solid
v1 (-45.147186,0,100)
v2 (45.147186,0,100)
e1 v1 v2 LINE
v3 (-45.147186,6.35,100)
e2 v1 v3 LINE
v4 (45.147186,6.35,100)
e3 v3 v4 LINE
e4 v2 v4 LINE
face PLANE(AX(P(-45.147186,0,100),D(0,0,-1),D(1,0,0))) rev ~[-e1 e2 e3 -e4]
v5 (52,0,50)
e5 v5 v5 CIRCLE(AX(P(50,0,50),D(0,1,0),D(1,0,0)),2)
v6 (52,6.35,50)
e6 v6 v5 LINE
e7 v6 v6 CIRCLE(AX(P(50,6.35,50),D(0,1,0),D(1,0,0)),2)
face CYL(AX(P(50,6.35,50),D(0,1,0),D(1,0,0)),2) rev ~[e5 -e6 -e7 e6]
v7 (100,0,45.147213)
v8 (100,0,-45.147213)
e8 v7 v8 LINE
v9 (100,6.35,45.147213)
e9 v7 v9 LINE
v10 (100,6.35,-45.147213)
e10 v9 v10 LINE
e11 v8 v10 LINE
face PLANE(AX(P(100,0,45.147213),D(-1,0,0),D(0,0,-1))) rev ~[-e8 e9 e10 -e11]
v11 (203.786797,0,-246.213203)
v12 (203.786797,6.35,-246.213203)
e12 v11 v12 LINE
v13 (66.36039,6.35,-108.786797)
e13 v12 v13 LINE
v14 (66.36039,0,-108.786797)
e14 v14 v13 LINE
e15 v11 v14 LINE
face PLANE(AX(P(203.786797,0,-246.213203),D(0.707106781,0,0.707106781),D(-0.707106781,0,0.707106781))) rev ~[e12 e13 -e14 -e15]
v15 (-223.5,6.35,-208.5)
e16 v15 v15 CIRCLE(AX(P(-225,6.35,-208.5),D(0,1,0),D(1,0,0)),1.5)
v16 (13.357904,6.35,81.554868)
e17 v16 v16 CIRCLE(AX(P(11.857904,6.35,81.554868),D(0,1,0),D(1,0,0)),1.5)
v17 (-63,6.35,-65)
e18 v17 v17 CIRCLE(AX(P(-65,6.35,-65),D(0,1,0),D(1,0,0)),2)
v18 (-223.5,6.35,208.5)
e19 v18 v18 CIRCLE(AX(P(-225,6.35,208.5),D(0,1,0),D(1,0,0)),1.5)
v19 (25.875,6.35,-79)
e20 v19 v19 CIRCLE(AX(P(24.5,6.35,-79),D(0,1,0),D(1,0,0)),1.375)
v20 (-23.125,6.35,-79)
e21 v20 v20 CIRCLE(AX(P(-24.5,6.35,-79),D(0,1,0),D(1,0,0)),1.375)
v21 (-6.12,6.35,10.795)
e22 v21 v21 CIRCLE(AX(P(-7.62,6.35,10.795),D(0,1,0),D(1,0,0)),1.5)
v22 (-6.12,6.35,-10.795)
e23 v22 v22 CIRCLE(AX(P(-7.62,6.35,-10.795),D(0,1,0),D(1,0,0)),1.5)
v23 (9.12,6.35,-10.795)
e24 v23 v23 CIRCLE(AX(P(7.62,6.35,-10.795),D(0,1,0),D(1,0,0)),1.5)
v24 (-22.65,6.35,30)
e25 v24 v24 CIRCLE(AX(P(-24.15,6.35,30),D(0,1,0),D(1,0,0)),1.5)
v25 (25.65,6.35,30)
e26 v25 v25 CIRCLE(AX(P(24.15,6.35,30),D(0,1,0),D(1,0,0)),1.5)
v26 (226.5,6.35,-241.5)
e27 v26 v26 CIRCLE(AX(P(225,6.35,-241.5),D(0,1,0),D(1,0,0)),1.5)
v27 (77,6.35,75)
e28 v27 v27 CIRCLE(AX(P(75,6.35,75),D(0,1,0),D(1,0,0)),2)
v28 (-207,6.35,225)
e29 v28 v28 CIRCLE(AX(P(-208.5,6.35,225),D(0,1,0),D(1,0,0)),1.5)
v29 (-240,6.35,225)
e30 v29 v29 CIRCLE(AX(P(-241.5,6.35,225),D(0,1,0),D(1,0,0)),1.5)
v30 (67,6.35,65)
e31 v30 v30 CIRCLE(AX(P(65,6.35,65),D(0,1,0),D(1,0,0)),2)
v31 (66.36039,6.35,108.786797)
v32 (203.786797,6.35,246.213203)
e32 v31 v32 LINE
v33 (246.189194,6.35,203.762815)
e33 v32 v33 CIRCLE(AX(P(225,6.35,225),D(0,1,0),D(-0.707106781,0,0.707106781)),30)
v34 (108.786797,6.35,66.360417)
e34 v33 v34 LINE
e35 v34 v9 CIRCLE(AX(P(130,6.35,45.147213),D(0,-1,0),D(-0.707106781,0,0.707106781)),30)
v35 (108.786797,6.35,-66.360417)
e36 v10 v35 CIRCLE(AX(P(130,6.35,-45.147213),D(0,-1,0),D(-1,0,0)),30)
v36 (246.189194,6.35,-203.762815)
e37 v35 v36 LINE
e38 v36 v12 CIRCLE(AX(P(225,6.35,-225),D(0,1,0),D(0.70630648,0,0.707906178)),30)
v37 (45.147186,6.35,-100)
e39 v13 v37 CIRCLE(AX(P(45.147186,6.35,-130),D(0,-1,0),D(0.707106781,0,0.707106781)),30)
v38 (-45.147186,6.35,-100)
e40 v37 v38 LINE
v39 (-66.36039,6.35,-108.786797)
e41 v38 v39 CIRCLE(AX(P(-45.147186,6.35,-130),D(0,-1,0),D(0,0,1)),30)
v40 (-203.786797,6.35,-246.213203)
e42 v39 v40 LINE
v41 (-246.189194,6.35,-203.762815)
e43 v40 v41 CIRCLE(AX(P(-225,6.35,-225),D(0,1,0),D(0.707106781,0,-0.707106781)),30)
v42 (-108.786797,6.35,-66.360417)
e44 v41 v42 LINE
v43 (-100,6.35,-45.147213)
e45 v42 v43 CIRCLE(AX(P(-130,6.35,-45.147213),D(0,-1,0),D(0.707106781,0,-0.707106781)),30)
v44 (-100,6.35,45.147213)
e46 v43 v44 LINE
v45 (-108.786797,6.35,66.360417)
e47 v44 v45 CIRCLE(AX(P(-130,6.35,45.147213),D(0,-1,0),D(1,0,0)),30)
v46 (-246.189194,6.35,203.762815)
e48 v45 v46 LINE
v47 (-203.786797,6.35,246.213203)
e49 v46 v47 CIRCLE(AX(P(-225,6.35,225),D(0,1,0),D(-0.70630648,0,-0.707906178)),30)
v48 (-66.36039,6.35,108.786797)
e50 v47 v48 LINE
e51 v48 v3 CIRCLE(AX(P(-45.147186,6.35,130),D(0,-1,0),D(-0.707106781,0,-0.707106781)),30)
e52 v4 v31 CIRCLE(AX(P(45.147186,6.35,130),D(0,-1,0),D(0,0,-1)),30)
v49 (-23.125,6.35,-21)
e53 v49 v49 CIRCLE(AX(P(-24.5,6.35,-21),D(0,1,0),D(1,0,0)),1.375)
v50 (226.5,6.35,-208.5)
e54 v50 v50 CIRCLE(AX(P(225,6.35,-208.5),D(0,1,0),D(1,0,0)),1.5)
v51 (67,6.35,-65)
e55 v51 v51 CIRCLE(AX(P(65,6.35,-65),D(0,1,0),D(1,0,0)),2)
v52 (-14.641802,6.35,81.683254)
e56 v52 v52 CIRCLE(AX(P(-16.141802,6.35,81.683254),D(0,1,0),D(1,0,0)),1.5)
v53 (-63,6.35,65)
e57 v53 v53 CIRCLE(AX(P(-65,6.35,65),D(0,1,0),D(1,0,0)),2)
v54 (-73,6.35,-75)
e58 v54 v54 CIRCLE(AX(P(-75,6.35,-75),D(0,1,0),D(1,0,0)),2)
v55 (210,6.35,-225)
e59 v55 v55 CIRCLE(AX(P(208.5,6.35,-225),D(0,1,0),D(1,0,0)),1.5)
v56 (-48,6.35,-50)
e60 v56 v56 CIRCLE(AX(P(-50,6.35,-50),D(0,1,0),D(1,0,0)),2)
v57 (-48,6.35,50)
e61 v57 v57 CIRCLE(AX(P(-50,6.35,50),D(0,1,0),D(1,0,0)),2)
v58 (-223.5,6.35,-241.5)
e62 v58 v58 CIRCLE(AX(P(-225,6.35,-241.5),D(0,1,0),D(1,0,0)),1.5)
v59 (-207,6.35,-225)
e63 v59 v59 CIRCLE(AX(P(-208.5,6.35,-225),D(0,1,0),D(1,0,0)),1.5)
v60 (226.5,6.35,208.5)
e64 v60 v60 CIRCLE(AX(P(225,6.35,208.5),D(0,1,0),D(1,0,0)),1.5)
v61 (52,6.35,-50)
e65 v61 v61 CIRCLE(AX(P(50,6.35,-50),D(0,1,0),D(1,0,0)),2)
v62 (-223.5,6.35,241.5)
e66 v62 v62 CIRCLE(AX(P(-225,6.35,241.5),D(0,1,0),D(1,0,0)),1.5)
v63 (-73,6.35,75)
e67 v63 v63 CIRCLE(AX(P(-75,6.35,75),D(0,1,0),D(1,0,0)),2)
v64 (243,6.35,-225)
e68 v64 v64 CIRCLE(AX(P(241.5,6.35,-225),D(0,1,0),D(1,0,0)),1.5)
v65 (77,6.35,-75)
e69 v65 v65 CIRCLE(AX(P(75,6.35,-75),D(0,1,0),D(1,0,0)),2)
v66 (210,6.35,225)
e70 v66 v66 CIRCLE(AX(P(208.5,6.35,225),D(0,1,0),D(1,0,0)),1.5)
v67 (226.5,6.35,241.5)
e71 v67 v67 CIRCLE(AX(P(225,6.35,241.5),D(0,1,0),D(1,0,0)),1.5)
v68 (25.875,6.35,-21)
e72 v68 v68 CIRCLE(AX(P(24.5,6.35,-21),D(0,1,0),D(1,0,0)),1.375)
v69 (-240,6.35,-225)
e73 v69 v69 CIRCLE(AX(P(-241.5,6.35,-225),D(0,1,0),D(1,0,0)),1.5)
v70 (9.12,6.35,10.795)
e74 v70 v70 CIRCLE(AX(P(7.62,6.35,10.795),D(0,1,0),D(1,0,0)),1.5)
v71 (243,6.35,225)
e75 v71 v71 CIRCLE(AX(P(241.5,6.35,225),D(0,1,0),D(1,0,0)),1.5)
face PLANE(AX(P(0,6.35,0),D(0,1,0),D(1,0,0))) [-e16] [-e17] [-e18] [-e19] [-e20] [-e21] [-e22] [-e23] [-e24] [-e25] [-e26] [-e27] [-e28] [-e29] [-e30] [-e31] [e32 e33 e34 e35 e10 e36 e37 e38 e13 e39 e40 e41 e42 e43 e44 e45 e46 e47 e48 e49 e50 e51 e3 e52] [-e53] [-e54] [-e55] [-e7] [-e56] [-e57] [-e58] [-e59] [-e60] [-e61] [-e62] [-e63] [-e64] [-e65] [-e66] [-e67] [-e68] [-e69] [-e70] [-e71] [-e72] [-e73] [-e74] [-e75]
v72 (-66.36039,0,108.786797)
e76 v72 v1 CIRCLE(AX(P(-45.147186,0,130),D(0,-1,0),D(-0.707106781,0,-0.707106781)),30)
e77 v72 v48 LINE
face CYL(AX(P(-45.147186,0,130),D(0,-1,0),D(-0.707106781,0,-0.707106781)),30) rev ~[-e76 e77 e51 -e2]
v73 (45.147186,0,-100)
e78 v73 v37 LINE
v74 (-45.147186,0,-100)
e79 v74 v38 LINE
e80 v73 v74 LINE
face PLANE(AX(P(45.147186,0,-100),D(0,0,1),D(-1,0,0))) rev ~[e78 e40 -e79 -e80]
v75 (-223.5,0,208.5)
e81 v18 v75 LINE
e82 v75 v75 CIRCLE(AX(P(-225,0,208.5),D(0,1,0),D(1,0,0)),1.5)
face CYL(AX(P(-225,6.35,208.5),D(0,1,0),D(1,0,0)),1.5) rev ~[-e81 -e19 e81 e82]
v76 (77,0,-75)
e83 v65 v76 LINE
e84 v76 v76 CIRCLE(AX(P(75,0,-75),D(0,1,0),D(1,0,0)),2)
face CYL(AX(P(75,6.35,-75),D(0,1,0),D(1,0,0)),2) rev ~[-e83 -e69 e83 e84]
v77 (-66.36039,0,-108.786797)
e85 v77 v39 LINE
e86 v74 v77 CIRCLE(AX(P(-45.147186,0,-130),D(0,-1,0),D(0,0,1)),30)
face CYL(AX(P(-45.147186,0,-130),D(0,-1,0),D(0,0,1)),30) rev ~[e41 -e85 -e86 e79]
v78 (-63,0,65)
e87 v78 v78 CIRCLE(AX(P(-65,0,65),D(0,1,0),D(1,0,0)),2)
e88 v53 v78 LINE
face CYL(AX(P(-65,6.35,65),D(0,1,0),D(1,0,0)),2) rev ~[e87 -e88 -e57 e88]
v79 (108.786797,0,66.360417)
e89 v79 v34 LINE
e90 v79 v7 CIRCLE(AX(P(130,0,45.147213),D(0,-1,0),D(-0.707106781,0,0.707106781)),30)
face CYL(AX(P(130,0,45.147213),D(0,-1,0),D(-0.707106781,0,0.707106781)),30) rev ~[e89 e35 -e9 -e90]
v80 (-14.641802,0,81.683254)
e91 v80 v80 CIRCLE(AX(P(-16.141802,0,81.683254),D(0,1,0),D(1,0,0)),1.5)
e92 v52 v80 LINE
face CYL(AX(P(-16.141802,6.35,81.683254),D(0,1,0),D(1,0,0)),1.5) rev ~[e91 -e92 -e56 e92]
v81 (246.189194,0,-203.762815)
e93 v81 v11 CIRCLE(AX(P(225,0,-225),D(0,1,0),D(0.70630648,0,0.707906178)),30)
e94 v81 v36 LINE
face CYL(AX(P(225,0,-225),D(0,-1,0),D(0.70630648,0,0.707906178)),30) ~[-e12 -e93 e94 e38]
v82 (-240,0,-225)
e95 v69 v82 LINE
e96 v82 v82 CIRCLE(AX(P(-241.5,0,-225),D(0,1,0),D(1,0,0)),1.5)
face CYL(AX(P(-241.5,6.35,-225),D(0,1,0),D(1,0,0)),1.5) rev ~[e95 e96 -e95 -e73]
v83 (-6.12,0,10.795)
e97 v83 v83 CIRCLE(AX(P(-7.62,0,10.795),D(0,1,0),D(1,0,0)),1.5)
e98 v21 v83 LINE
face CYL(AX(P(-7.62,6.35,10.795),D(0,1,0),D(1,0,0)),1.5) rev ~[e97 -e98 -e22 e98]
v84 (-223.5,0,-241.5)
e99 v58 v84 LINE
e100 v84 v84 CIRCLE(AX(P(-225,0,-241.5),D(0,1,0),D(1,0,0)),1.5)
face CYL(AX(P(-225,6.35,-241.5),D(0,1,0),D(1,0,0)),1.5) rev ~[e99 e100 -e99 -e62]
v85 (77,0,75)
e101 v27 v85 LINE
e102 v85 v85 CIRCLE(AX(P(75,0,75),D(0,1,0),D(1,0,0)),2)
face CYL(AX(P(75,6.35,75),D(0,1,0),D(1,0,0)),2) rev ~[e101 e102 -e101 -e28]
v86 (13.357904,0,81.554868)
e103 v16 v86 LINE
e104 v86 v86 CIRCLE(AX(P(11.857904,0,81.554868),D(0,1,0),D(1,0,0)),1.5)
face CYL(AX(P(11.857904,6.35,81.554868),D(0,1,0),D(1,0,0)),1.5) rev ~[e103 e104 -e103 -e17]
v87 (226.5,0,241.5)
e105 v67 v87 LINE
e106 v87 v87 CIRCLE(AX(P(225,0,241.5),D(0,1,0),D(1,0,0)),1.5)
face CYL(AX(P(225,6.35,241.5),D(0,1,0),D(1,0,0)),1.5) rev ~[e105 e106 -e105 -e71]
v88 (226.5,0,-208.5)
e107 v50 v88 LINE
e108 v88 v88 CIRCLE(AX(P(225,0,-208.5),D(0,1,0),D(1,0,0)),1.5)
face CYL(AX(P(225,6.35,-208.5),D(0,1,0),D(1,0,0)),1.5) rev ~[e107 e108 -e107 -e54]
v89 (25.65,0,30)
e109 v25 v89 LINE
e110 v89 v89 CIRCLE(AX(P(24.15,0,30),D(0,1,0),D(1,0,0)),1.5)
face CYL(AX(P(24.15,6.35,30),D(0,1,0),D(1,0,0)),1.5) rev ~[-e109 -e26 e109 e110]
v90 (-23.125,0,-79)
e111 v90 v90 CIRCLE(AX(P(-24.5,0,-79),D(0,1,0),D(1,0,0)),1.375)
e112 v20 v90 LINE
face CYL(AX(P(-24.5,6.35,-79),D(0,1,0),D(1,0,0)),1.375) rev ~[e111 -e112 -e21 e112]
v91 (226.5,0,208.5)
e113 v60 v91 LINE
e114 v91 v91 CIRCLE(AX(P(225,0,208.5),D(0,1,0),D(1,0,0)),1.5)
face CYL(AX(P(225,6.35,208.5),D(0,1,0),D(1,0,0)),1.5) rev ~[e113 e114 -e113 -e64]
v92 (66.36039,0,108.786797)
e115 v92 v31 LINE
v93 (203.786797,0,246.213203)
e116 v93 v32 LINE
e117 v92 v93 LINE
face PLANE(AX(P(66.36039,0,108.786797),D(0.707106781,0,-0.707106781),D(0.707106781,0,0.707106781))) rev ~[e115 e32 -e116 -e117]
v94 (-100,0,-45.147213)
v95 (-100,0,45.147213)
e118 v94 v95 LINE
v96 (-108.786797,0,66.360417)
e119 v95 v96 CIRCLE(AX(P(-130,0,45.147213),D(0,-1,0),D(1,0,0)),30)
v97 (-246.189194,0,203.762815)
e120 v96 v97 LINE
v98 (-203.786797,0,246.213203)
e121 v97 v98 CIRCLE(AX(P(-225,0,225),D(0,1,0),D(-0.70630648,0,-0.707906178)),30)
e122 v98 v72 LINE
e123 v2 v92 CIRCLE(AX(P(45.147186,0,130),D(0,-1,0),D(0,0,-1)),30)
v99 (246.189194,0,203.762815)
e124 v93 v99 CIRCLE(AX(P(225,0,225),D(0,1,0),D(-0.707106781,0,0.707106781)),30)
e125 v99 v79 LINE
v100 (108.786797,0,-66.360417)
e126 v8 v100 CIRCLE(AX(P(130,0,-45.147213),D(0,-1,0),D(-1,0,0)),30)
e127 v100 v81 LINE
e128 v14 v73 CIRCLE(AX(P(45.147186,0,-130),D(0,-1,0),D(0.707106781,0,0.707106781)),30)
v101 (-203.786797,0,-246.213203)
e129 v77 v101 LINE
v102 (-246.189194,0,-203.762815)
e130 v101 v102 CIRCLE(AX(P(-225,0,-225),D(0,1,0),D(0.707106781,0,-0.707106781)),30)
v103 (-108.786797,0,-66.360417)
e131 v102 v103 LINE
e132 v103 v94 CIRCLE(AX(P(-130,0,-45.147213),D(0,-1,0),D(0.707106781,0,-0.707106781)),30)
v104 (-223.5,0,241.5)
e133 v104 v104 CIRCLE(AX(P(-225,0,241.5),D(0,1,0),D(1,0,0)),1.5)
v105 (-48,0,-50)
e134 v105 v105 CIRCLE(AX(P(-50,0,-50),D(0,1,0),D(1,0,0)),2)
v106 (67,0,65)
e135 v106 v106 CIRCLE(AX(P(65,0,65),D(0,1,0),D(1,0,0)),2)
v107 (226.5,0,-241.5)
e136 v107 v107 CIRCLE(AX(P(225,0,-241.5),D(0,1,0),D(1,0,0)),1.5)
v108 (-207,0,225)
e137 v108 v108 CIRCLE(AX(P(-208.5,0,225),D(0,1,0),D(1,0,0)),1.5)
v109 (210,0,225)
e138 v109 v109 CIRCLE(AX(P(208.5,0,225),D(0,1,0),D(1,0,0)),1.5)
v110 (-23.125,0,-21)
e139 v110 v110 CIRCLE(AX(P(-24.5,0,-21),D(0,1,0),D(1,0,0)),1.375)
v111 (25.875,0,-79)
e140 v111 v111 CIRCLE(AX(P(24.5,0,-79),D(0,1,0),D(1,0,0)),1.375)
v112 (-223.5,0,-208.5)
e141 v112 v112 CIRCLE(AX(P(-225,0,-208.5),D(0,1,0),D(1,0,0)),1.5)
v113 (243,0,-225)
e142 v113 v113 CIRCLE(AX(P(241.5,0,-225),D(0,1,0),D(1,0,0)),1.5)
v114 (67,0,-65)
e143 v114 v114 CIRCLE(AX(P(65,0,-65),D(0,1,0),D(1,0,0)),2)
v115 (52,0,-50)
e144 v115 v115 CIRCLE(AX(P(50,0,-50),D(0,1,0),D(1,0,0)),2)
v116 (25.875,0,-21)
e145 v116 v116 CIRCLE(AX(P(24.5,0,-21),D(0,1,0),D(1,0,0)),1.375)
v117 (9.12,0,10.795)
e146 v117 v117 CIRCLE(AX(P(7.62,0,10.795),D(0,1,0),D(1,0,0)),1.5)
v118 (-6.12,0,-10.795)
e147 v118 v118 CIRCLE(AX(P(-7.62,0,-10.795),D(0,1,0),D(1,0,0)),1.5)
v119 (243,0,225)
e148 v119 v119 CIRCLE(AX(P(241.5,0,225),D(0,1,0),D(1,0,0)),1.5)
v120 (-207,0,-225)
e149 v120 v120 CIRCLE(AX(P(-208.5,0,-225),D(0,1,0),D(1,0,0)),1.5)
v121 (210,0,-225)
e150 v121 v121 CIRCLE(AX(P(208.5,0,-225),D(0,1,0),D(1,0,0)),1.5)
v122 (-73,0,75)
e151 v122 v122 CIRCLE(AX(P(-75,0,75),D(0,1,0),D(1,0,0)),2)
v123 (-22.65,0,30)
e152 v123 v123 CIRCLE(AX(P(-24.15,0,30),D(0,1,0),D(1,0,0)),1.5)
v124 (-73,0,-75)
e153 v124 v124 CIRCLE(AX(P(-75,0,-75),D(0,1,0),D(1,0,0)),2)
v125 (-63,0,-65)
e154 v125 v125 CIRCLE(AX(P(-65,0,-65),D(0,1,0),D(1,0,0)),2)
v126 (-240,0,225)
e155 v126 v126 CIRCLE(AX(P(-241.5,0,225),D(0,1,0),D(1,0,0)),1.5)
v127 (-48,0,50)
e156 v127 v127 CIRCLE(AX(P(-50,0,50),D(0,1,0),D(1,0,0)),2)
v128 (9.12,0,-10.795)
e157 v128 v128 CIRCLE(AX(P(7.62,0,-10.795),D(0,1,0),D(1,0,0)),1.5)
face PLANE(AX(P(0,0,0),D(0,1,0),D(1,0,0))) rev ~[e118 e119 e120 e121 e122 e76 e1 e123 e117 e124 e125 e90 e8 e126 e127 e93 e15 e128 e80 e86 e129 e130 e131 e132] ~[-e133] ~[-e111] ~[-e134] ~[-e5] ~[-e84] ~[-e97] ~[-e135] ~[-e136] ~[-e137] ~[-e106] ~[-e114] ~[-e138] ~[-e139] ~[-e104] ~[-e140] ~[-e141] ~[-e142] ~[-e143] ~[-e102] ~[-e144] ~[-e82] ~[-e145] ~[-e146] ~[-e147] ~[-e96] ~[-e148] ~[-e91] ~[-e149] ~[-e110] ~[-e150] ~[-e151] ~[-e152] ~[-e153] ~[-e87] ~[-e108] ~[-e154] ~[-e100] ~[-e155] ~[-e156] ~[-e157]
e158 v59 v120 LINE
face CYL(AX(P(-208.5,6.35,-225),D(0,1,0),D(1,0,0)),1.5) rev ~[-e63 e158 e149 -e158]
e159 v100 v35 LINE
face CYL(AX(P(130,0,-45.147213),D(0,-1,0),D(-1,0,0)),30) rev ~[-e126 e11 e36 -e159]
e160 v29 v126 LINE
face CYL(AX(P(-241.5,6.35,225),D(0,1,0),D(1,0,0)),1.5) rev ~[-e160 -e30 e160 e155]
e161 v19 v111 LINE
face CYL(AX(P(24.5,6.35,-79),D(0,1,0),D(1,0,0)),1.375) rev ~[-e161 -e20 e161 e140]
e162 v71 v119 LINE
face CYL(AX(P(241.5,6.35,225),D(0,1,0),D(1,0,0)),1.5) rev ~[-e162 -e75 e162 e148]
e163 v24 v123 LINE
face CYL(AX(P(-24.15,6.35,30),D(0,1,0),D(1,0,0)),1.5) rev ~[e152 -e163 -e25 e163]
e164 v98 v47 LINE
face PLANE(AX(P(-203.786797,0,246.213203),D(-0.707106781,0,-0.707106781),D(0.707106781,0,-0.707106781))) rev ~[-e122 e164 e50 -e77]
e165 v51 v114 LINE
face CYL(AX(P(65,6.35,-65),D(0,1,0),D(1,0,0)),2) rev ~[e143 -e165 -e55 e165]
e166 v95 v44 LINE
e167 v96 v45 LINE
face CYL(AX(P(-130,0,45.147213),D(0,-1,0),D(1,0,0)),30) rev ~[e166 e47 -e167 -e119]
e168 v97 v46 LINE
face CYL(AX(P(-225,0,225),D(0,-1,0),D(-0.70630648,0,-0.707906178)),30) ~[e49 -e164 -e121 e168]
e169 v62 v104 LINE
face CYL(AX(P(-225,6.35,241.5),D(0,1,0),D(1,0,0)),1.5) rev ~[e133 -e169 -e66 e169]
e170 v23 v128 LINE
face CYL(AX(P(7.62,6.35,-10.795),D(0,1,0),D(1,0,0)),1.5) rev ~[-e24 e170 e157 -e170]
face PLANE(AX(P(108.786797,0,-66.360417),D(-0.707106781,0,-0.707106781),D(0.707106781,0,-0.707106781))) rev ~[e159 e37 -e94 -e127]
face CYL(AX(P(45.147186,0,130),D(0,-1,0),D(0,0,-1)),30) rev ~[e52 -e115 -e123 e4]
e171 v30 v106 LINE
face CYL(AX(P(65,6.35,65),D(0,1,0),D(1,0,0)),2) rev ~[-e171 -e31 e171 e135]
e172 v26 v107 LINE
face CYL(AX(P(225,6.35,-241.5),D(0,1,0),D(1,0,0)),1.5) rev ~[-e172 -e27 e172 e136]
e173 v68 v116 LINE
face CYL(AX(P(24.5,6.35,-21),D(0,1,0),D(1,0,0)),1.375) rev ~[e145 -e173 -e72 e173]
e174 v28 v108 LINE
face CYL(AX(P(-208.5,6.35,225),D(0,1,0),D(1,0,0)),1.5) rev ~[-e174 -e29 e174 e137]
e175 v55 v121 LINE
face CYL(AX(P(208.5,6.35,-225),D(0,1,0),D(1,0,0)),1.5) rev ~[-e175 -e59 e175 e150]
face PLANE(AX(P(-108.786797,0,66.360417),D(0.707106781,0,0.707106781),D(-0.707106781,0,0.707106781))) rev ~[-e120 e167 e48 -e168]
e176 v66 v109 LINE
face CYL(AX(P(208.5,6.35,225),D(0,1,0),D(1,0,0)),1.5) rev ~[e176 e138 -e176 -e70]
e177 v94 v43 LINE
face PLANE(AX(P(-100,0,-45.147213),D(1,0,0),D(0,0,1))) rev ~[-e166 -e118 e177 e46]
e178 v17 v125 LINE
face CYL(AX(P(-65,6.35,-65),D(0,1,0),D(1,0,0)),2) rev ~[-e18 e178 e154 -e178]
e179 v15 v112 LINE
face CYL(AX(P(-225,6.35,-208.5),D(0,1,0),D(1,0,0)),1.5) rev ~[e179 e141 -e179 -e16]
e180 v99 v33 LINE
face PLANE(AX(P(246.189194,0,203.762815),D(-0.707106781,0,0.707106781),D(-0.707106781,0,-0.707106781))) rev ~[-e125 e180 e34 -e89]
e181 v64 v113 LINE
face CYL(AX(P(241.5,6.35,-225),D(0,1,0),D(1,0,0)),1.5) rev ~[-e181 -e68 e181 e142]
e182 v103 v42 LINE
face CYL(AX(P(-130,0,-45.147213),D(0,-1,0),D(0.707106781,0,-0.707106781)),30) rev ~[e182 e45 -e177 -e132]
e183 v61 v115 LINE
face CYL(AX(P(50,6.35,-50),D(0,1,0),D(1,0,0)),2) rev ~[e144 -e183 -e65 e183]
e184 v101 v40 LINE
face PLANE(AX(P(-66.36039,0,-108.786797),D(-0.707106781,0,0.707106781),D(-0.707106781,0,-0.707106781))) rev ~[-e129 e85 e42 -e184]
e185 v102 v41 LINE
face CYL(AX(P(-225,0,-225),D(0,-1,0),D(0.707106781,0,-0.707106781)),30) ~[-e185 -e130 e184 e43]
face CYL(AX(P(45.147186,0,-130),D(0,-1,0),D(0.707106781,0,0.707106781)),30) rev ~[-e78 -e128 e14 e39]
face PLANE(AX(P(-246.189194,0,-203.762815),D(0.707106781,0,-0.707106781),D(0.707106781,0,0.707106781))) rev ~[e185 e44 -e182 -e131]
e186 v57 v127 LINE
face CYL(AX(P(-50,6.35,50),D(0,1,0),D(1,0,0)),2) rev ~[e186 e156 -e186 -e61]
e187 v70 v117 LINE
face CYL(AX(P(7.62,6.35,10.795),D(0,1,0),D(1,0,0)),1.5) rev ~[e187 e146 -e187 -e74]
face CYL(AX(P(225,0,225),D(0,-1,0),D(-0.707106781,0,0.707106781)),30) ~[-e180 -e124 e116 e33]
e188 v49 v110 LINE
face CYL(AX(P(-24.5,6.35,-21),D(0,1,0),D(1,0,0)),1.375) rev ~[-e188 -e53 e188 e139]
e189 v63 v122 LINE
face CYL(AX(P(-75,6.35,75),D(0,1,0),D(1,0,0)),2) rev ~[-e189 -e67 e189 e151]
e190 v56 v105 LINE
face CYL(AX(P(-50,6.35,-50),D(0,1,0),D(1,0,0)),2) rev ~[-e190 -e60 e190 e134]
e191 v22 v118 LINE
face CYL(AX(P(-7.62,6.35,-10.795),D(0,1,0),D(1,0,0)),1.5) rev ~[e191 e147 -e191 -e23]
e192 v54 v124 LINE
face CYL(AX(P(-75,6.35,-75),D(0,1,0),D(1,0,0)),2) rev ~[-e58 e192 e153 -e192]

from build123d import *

# Parameters (mm, degrees)
BOSS_EXTRUDE1_DEPTH = 6.35
SKETCH2_R           = 1.5
CUT_EXTRUDE1_DEPTH  = 212
SKETCH3_R           = 1.5
CUT_EXTRUDE2_DEPTH  = 212
SKETCH4_R           = 1.375
CUT_EXTRUDE3_DEPTH  = 212
SKETCH5_R           = 1.5
CUT_EXTRUDE4_DEPTH  = 212
SKETCH6_R           = 2
CUT_EXTRUDE5_DEPTH  = 212


with BuildPart() as part:
    # Sketch1 → Boss-Extrude1 (new body)
    with BuildSketch(Plane(origin=(0, 0, 0), x_dir=(1, 0, 0), z_dir=(0, 1, 0))):
        with BuildLine():
            Line((-246.189194392, 203.762814663), (-108.786796564, 66.360416836))
            ThreePointArc((-108.786796564, 66.360416836), (-102.283614025, 56.627716371), (-100, 45.1472134))
            Line((-100, 45.1472134), (-100, -45.1472134))
            ThreePointArc((-100, -45.1472134), (-102.283614025, -56.627716371), (-108.786796564, -66.360416836))
            Line((-108.786796564, -66.360416836), (-246.189194392, -203.762814663))
            ThreePointArc((-246.189194392, -203.762814663), (-246.225197781, -246.201202305), (-203.786796564, -246.213203436))
            Line((-203.786796564, -246.213203436), (-66.360389693, -108.786796564))
            ThreePointArc((-66.360389693, -108.786796564), (-56.627689229, -102.283614025), (-45.147186258, -100))
            Line((-45.147186258, -100), (45.147186258, -100))
            ThreePointArc((45.147186258, -100), (56.627689229, -102.283614025), (66.360389693, -108.786796564))
            Line((66.360389693, -108.786796564), (203.786796564, -246.213203436))
            ThreePointArc((203.786796564, -246.213203436), (246.225197781, -246.201202305), (246.189194392, -203.762814663))
            Line((246.189194392, -203.762814663), (108.786796564, -66.360416836))
            ThreePointArc((108.786796564, -66.360416836), (102.283614025, -56.627716371), (100, -45.1472134))
            Line((100, -45.1472134), (100, 45.1472134))
            ThreePointArc((100, 45.1472134), (102.283614025, 56.627716371), (108.786796564, 66.360416836))
            Line((108.786796564, 66.360416836), (246.189194392, 203.762814663))
            ThreePointArc((246.189194392, 203.762814663), (246.225197781, 246.201202305), (203.786796564, 246.213203436))
            Line((203.786796564, 246.213203436), (66.360389693, 108.786796564))
            ThreePointArc((66.360389693, 108.786796564), (56.627689229, 102.283614025), (45.147186258, 100))
            Line((45.147186258, 100), (-45.147186258, 100))
            ThreePointArc((-45.147186258, 100), (-56.627689229, 102.283614025), (-66.360389693, 108.786796564))
            Line((-66.360389693, 108.786796564), (-203.786796564, 246.213203436))
            ThreePointArc((-203.786796564, 246.213203436), (-246.225197781, 246.201202305), (-246.189194392, 203.762814663))
        make_face()
    extrude(amount=BOSS_EXTRUDE1_DEPTH)

    # Sketch2 → Cut-Extrude1 (cut)
    with BuildSketch(Plane(origin=(0, 6.35, 0), x_dir=(1, 0, 0), z_dir=(0, 1, 0))):
        with Locations((-225, 241.5)):
            Circle(SKETCH2_R)
        with Locations((-208.5, 225)):
            Circle(SKETCH2_R)
        with Locations((-225, 208.5)):
            Circle(SKETCH2_R)
        with Locations((-241.5, 225)):
            Circle(SKETCH2_R)
        with Locations((241.5, 225)):
            Circle(SKETCH2_R)
        with Locations((225, 241.5)):
            Circle(SKETCH2_R)
        with Locations((208.5, 225)):
            Circle(SKETCH2_R)
        with Locations((225, 208.5)):
            Circle(SKETCH2_R)
        with Locations((225, -241.5)):
            Circle(SKETCH2_R)
        with Locations((241.5, -225)):
            Circle(SKETCH2_R)
        with Locations((225, -208.5)):
            Circle(SKETCH2_R)
        with Locations((208.5, -225)):
            Circle(SKETCH2_R)
        with Locations((-241.5, -225)):
            Circle(SKETCH2_R)
        with Locations((-225, -241.5)):
            Circle(SKETCH2_R)
        with Locations((-208.5, -225)):
            Circle(SKETCH2_R)
        with Locations((-225, -208.5)):
            Circle(SKETCH2_R)
    extrude(amount=-CUT_EXTRUDE1_DEPTH, mode=Mode.SUBTRACT)

    # Sketch3 → Cut-Extrude2 (cut)
    with BuildSketch(Plane(origin=(0, 6.35, 0), x_dir=(1, 0, 0), z_dir=(0, 1, 0))):
        with Locations((-7.62, 10.795)):
            Circle(SKETCH3_R)
        with Locations((-7.62, -10.795)):
            Circle(SKETCH3_R)
        with Locations((7.62, -10.795)):
            Circle(SKETCH3_R)
        with Locations((7.62, 10.795)):
            Circle(SKETCH3_R)
    extrude(amount=-CUT_EXTRUDE2_DEPTH, mode=Mode.SUBTRACT)

    # Sketch4 → Cut-Extrude3 (cut)
    with BuildSketch(Plane(origin=(0, 6.35, 0), x_dir=(1, 0, 0), z_dir=(0, 1, 0))):
        with Locations((-24.5, 21)):
            Circle(SKETCH4_R)
        with Locations((24.5, 21)):
            Circle(SKETCH4_R)
        with Locations((24.5, 79)):
            Circle(SKETCH4_R)
        with Locations((-24.5, 79)):
            Circle(SKETCH4_R)
    extrude(amount=-CUT_EXTRUDE3_DEPTH, mode=Mode.SUBTRACT)

    # Sketch5 → Cut-Extrude4 (cut)
    with BuildSketch(Plane(origin=(0, 6.35, 0), x_dir=(1, 0, 0), z_dir=(0, 1, 0))):
        with Locations((24.15, -30)):
            Circle(SKETCH5_R)
        with Locations((-24.15, -30)):
            Circle(SKETCH5_R)
        with Locations((-16.141801743, -81.683254161)):
            Circle(SKETCH5_R)
        with Locations((11.857903914, -81.554867605)):
            Circle(SKETCH5_R)
    extrude(amount=-CUT_EXTRUDE4_DEPTH, mode=Mode.SUBTRACT)

    # Sketch6 → Cut-Extrude5 (cut)
    with BuildSketch(Plane(origin=(0, 6.35, 0), x_dir=(1, 0, 0), z_dir=(0, 1, 0))):
        with Locations((75, 75)):
            Circle(SKETCH6_R)
        with Locations((65, 65)):
            Circle(SKETCH6_R)
        with Locations((50, 50)):
            Circle(SKETCH6_R)
        with Locations((50, -50)):
            Circle(SKETCH6_R)
        with Locations((65, -65)):
            Circle(SKETCH6_R)
        with Locations((75, -75)):
            Circle(SKETCH6_R)
        with Locations((-50, -50)):
            Circle(SKETCH6_R)
        with Locations((-65, -65)):
            Circle(SKETCH6_R)
        with Locations((-75, -75)):
            Circle(SKETCH6_R)
        with Locations((-50, 50)):
            Circle(SKETCH6_R)
        with Locations((-65, 65)):
            Circle(SKETCH6_R)
        with Locations((-75, 75)):
            Circle(SKETCH6_R)
    extrude(amount=-CUT_EXTRUDE5_DEPTH, mode=Mode.SUBTRACT)


solid = part.part
